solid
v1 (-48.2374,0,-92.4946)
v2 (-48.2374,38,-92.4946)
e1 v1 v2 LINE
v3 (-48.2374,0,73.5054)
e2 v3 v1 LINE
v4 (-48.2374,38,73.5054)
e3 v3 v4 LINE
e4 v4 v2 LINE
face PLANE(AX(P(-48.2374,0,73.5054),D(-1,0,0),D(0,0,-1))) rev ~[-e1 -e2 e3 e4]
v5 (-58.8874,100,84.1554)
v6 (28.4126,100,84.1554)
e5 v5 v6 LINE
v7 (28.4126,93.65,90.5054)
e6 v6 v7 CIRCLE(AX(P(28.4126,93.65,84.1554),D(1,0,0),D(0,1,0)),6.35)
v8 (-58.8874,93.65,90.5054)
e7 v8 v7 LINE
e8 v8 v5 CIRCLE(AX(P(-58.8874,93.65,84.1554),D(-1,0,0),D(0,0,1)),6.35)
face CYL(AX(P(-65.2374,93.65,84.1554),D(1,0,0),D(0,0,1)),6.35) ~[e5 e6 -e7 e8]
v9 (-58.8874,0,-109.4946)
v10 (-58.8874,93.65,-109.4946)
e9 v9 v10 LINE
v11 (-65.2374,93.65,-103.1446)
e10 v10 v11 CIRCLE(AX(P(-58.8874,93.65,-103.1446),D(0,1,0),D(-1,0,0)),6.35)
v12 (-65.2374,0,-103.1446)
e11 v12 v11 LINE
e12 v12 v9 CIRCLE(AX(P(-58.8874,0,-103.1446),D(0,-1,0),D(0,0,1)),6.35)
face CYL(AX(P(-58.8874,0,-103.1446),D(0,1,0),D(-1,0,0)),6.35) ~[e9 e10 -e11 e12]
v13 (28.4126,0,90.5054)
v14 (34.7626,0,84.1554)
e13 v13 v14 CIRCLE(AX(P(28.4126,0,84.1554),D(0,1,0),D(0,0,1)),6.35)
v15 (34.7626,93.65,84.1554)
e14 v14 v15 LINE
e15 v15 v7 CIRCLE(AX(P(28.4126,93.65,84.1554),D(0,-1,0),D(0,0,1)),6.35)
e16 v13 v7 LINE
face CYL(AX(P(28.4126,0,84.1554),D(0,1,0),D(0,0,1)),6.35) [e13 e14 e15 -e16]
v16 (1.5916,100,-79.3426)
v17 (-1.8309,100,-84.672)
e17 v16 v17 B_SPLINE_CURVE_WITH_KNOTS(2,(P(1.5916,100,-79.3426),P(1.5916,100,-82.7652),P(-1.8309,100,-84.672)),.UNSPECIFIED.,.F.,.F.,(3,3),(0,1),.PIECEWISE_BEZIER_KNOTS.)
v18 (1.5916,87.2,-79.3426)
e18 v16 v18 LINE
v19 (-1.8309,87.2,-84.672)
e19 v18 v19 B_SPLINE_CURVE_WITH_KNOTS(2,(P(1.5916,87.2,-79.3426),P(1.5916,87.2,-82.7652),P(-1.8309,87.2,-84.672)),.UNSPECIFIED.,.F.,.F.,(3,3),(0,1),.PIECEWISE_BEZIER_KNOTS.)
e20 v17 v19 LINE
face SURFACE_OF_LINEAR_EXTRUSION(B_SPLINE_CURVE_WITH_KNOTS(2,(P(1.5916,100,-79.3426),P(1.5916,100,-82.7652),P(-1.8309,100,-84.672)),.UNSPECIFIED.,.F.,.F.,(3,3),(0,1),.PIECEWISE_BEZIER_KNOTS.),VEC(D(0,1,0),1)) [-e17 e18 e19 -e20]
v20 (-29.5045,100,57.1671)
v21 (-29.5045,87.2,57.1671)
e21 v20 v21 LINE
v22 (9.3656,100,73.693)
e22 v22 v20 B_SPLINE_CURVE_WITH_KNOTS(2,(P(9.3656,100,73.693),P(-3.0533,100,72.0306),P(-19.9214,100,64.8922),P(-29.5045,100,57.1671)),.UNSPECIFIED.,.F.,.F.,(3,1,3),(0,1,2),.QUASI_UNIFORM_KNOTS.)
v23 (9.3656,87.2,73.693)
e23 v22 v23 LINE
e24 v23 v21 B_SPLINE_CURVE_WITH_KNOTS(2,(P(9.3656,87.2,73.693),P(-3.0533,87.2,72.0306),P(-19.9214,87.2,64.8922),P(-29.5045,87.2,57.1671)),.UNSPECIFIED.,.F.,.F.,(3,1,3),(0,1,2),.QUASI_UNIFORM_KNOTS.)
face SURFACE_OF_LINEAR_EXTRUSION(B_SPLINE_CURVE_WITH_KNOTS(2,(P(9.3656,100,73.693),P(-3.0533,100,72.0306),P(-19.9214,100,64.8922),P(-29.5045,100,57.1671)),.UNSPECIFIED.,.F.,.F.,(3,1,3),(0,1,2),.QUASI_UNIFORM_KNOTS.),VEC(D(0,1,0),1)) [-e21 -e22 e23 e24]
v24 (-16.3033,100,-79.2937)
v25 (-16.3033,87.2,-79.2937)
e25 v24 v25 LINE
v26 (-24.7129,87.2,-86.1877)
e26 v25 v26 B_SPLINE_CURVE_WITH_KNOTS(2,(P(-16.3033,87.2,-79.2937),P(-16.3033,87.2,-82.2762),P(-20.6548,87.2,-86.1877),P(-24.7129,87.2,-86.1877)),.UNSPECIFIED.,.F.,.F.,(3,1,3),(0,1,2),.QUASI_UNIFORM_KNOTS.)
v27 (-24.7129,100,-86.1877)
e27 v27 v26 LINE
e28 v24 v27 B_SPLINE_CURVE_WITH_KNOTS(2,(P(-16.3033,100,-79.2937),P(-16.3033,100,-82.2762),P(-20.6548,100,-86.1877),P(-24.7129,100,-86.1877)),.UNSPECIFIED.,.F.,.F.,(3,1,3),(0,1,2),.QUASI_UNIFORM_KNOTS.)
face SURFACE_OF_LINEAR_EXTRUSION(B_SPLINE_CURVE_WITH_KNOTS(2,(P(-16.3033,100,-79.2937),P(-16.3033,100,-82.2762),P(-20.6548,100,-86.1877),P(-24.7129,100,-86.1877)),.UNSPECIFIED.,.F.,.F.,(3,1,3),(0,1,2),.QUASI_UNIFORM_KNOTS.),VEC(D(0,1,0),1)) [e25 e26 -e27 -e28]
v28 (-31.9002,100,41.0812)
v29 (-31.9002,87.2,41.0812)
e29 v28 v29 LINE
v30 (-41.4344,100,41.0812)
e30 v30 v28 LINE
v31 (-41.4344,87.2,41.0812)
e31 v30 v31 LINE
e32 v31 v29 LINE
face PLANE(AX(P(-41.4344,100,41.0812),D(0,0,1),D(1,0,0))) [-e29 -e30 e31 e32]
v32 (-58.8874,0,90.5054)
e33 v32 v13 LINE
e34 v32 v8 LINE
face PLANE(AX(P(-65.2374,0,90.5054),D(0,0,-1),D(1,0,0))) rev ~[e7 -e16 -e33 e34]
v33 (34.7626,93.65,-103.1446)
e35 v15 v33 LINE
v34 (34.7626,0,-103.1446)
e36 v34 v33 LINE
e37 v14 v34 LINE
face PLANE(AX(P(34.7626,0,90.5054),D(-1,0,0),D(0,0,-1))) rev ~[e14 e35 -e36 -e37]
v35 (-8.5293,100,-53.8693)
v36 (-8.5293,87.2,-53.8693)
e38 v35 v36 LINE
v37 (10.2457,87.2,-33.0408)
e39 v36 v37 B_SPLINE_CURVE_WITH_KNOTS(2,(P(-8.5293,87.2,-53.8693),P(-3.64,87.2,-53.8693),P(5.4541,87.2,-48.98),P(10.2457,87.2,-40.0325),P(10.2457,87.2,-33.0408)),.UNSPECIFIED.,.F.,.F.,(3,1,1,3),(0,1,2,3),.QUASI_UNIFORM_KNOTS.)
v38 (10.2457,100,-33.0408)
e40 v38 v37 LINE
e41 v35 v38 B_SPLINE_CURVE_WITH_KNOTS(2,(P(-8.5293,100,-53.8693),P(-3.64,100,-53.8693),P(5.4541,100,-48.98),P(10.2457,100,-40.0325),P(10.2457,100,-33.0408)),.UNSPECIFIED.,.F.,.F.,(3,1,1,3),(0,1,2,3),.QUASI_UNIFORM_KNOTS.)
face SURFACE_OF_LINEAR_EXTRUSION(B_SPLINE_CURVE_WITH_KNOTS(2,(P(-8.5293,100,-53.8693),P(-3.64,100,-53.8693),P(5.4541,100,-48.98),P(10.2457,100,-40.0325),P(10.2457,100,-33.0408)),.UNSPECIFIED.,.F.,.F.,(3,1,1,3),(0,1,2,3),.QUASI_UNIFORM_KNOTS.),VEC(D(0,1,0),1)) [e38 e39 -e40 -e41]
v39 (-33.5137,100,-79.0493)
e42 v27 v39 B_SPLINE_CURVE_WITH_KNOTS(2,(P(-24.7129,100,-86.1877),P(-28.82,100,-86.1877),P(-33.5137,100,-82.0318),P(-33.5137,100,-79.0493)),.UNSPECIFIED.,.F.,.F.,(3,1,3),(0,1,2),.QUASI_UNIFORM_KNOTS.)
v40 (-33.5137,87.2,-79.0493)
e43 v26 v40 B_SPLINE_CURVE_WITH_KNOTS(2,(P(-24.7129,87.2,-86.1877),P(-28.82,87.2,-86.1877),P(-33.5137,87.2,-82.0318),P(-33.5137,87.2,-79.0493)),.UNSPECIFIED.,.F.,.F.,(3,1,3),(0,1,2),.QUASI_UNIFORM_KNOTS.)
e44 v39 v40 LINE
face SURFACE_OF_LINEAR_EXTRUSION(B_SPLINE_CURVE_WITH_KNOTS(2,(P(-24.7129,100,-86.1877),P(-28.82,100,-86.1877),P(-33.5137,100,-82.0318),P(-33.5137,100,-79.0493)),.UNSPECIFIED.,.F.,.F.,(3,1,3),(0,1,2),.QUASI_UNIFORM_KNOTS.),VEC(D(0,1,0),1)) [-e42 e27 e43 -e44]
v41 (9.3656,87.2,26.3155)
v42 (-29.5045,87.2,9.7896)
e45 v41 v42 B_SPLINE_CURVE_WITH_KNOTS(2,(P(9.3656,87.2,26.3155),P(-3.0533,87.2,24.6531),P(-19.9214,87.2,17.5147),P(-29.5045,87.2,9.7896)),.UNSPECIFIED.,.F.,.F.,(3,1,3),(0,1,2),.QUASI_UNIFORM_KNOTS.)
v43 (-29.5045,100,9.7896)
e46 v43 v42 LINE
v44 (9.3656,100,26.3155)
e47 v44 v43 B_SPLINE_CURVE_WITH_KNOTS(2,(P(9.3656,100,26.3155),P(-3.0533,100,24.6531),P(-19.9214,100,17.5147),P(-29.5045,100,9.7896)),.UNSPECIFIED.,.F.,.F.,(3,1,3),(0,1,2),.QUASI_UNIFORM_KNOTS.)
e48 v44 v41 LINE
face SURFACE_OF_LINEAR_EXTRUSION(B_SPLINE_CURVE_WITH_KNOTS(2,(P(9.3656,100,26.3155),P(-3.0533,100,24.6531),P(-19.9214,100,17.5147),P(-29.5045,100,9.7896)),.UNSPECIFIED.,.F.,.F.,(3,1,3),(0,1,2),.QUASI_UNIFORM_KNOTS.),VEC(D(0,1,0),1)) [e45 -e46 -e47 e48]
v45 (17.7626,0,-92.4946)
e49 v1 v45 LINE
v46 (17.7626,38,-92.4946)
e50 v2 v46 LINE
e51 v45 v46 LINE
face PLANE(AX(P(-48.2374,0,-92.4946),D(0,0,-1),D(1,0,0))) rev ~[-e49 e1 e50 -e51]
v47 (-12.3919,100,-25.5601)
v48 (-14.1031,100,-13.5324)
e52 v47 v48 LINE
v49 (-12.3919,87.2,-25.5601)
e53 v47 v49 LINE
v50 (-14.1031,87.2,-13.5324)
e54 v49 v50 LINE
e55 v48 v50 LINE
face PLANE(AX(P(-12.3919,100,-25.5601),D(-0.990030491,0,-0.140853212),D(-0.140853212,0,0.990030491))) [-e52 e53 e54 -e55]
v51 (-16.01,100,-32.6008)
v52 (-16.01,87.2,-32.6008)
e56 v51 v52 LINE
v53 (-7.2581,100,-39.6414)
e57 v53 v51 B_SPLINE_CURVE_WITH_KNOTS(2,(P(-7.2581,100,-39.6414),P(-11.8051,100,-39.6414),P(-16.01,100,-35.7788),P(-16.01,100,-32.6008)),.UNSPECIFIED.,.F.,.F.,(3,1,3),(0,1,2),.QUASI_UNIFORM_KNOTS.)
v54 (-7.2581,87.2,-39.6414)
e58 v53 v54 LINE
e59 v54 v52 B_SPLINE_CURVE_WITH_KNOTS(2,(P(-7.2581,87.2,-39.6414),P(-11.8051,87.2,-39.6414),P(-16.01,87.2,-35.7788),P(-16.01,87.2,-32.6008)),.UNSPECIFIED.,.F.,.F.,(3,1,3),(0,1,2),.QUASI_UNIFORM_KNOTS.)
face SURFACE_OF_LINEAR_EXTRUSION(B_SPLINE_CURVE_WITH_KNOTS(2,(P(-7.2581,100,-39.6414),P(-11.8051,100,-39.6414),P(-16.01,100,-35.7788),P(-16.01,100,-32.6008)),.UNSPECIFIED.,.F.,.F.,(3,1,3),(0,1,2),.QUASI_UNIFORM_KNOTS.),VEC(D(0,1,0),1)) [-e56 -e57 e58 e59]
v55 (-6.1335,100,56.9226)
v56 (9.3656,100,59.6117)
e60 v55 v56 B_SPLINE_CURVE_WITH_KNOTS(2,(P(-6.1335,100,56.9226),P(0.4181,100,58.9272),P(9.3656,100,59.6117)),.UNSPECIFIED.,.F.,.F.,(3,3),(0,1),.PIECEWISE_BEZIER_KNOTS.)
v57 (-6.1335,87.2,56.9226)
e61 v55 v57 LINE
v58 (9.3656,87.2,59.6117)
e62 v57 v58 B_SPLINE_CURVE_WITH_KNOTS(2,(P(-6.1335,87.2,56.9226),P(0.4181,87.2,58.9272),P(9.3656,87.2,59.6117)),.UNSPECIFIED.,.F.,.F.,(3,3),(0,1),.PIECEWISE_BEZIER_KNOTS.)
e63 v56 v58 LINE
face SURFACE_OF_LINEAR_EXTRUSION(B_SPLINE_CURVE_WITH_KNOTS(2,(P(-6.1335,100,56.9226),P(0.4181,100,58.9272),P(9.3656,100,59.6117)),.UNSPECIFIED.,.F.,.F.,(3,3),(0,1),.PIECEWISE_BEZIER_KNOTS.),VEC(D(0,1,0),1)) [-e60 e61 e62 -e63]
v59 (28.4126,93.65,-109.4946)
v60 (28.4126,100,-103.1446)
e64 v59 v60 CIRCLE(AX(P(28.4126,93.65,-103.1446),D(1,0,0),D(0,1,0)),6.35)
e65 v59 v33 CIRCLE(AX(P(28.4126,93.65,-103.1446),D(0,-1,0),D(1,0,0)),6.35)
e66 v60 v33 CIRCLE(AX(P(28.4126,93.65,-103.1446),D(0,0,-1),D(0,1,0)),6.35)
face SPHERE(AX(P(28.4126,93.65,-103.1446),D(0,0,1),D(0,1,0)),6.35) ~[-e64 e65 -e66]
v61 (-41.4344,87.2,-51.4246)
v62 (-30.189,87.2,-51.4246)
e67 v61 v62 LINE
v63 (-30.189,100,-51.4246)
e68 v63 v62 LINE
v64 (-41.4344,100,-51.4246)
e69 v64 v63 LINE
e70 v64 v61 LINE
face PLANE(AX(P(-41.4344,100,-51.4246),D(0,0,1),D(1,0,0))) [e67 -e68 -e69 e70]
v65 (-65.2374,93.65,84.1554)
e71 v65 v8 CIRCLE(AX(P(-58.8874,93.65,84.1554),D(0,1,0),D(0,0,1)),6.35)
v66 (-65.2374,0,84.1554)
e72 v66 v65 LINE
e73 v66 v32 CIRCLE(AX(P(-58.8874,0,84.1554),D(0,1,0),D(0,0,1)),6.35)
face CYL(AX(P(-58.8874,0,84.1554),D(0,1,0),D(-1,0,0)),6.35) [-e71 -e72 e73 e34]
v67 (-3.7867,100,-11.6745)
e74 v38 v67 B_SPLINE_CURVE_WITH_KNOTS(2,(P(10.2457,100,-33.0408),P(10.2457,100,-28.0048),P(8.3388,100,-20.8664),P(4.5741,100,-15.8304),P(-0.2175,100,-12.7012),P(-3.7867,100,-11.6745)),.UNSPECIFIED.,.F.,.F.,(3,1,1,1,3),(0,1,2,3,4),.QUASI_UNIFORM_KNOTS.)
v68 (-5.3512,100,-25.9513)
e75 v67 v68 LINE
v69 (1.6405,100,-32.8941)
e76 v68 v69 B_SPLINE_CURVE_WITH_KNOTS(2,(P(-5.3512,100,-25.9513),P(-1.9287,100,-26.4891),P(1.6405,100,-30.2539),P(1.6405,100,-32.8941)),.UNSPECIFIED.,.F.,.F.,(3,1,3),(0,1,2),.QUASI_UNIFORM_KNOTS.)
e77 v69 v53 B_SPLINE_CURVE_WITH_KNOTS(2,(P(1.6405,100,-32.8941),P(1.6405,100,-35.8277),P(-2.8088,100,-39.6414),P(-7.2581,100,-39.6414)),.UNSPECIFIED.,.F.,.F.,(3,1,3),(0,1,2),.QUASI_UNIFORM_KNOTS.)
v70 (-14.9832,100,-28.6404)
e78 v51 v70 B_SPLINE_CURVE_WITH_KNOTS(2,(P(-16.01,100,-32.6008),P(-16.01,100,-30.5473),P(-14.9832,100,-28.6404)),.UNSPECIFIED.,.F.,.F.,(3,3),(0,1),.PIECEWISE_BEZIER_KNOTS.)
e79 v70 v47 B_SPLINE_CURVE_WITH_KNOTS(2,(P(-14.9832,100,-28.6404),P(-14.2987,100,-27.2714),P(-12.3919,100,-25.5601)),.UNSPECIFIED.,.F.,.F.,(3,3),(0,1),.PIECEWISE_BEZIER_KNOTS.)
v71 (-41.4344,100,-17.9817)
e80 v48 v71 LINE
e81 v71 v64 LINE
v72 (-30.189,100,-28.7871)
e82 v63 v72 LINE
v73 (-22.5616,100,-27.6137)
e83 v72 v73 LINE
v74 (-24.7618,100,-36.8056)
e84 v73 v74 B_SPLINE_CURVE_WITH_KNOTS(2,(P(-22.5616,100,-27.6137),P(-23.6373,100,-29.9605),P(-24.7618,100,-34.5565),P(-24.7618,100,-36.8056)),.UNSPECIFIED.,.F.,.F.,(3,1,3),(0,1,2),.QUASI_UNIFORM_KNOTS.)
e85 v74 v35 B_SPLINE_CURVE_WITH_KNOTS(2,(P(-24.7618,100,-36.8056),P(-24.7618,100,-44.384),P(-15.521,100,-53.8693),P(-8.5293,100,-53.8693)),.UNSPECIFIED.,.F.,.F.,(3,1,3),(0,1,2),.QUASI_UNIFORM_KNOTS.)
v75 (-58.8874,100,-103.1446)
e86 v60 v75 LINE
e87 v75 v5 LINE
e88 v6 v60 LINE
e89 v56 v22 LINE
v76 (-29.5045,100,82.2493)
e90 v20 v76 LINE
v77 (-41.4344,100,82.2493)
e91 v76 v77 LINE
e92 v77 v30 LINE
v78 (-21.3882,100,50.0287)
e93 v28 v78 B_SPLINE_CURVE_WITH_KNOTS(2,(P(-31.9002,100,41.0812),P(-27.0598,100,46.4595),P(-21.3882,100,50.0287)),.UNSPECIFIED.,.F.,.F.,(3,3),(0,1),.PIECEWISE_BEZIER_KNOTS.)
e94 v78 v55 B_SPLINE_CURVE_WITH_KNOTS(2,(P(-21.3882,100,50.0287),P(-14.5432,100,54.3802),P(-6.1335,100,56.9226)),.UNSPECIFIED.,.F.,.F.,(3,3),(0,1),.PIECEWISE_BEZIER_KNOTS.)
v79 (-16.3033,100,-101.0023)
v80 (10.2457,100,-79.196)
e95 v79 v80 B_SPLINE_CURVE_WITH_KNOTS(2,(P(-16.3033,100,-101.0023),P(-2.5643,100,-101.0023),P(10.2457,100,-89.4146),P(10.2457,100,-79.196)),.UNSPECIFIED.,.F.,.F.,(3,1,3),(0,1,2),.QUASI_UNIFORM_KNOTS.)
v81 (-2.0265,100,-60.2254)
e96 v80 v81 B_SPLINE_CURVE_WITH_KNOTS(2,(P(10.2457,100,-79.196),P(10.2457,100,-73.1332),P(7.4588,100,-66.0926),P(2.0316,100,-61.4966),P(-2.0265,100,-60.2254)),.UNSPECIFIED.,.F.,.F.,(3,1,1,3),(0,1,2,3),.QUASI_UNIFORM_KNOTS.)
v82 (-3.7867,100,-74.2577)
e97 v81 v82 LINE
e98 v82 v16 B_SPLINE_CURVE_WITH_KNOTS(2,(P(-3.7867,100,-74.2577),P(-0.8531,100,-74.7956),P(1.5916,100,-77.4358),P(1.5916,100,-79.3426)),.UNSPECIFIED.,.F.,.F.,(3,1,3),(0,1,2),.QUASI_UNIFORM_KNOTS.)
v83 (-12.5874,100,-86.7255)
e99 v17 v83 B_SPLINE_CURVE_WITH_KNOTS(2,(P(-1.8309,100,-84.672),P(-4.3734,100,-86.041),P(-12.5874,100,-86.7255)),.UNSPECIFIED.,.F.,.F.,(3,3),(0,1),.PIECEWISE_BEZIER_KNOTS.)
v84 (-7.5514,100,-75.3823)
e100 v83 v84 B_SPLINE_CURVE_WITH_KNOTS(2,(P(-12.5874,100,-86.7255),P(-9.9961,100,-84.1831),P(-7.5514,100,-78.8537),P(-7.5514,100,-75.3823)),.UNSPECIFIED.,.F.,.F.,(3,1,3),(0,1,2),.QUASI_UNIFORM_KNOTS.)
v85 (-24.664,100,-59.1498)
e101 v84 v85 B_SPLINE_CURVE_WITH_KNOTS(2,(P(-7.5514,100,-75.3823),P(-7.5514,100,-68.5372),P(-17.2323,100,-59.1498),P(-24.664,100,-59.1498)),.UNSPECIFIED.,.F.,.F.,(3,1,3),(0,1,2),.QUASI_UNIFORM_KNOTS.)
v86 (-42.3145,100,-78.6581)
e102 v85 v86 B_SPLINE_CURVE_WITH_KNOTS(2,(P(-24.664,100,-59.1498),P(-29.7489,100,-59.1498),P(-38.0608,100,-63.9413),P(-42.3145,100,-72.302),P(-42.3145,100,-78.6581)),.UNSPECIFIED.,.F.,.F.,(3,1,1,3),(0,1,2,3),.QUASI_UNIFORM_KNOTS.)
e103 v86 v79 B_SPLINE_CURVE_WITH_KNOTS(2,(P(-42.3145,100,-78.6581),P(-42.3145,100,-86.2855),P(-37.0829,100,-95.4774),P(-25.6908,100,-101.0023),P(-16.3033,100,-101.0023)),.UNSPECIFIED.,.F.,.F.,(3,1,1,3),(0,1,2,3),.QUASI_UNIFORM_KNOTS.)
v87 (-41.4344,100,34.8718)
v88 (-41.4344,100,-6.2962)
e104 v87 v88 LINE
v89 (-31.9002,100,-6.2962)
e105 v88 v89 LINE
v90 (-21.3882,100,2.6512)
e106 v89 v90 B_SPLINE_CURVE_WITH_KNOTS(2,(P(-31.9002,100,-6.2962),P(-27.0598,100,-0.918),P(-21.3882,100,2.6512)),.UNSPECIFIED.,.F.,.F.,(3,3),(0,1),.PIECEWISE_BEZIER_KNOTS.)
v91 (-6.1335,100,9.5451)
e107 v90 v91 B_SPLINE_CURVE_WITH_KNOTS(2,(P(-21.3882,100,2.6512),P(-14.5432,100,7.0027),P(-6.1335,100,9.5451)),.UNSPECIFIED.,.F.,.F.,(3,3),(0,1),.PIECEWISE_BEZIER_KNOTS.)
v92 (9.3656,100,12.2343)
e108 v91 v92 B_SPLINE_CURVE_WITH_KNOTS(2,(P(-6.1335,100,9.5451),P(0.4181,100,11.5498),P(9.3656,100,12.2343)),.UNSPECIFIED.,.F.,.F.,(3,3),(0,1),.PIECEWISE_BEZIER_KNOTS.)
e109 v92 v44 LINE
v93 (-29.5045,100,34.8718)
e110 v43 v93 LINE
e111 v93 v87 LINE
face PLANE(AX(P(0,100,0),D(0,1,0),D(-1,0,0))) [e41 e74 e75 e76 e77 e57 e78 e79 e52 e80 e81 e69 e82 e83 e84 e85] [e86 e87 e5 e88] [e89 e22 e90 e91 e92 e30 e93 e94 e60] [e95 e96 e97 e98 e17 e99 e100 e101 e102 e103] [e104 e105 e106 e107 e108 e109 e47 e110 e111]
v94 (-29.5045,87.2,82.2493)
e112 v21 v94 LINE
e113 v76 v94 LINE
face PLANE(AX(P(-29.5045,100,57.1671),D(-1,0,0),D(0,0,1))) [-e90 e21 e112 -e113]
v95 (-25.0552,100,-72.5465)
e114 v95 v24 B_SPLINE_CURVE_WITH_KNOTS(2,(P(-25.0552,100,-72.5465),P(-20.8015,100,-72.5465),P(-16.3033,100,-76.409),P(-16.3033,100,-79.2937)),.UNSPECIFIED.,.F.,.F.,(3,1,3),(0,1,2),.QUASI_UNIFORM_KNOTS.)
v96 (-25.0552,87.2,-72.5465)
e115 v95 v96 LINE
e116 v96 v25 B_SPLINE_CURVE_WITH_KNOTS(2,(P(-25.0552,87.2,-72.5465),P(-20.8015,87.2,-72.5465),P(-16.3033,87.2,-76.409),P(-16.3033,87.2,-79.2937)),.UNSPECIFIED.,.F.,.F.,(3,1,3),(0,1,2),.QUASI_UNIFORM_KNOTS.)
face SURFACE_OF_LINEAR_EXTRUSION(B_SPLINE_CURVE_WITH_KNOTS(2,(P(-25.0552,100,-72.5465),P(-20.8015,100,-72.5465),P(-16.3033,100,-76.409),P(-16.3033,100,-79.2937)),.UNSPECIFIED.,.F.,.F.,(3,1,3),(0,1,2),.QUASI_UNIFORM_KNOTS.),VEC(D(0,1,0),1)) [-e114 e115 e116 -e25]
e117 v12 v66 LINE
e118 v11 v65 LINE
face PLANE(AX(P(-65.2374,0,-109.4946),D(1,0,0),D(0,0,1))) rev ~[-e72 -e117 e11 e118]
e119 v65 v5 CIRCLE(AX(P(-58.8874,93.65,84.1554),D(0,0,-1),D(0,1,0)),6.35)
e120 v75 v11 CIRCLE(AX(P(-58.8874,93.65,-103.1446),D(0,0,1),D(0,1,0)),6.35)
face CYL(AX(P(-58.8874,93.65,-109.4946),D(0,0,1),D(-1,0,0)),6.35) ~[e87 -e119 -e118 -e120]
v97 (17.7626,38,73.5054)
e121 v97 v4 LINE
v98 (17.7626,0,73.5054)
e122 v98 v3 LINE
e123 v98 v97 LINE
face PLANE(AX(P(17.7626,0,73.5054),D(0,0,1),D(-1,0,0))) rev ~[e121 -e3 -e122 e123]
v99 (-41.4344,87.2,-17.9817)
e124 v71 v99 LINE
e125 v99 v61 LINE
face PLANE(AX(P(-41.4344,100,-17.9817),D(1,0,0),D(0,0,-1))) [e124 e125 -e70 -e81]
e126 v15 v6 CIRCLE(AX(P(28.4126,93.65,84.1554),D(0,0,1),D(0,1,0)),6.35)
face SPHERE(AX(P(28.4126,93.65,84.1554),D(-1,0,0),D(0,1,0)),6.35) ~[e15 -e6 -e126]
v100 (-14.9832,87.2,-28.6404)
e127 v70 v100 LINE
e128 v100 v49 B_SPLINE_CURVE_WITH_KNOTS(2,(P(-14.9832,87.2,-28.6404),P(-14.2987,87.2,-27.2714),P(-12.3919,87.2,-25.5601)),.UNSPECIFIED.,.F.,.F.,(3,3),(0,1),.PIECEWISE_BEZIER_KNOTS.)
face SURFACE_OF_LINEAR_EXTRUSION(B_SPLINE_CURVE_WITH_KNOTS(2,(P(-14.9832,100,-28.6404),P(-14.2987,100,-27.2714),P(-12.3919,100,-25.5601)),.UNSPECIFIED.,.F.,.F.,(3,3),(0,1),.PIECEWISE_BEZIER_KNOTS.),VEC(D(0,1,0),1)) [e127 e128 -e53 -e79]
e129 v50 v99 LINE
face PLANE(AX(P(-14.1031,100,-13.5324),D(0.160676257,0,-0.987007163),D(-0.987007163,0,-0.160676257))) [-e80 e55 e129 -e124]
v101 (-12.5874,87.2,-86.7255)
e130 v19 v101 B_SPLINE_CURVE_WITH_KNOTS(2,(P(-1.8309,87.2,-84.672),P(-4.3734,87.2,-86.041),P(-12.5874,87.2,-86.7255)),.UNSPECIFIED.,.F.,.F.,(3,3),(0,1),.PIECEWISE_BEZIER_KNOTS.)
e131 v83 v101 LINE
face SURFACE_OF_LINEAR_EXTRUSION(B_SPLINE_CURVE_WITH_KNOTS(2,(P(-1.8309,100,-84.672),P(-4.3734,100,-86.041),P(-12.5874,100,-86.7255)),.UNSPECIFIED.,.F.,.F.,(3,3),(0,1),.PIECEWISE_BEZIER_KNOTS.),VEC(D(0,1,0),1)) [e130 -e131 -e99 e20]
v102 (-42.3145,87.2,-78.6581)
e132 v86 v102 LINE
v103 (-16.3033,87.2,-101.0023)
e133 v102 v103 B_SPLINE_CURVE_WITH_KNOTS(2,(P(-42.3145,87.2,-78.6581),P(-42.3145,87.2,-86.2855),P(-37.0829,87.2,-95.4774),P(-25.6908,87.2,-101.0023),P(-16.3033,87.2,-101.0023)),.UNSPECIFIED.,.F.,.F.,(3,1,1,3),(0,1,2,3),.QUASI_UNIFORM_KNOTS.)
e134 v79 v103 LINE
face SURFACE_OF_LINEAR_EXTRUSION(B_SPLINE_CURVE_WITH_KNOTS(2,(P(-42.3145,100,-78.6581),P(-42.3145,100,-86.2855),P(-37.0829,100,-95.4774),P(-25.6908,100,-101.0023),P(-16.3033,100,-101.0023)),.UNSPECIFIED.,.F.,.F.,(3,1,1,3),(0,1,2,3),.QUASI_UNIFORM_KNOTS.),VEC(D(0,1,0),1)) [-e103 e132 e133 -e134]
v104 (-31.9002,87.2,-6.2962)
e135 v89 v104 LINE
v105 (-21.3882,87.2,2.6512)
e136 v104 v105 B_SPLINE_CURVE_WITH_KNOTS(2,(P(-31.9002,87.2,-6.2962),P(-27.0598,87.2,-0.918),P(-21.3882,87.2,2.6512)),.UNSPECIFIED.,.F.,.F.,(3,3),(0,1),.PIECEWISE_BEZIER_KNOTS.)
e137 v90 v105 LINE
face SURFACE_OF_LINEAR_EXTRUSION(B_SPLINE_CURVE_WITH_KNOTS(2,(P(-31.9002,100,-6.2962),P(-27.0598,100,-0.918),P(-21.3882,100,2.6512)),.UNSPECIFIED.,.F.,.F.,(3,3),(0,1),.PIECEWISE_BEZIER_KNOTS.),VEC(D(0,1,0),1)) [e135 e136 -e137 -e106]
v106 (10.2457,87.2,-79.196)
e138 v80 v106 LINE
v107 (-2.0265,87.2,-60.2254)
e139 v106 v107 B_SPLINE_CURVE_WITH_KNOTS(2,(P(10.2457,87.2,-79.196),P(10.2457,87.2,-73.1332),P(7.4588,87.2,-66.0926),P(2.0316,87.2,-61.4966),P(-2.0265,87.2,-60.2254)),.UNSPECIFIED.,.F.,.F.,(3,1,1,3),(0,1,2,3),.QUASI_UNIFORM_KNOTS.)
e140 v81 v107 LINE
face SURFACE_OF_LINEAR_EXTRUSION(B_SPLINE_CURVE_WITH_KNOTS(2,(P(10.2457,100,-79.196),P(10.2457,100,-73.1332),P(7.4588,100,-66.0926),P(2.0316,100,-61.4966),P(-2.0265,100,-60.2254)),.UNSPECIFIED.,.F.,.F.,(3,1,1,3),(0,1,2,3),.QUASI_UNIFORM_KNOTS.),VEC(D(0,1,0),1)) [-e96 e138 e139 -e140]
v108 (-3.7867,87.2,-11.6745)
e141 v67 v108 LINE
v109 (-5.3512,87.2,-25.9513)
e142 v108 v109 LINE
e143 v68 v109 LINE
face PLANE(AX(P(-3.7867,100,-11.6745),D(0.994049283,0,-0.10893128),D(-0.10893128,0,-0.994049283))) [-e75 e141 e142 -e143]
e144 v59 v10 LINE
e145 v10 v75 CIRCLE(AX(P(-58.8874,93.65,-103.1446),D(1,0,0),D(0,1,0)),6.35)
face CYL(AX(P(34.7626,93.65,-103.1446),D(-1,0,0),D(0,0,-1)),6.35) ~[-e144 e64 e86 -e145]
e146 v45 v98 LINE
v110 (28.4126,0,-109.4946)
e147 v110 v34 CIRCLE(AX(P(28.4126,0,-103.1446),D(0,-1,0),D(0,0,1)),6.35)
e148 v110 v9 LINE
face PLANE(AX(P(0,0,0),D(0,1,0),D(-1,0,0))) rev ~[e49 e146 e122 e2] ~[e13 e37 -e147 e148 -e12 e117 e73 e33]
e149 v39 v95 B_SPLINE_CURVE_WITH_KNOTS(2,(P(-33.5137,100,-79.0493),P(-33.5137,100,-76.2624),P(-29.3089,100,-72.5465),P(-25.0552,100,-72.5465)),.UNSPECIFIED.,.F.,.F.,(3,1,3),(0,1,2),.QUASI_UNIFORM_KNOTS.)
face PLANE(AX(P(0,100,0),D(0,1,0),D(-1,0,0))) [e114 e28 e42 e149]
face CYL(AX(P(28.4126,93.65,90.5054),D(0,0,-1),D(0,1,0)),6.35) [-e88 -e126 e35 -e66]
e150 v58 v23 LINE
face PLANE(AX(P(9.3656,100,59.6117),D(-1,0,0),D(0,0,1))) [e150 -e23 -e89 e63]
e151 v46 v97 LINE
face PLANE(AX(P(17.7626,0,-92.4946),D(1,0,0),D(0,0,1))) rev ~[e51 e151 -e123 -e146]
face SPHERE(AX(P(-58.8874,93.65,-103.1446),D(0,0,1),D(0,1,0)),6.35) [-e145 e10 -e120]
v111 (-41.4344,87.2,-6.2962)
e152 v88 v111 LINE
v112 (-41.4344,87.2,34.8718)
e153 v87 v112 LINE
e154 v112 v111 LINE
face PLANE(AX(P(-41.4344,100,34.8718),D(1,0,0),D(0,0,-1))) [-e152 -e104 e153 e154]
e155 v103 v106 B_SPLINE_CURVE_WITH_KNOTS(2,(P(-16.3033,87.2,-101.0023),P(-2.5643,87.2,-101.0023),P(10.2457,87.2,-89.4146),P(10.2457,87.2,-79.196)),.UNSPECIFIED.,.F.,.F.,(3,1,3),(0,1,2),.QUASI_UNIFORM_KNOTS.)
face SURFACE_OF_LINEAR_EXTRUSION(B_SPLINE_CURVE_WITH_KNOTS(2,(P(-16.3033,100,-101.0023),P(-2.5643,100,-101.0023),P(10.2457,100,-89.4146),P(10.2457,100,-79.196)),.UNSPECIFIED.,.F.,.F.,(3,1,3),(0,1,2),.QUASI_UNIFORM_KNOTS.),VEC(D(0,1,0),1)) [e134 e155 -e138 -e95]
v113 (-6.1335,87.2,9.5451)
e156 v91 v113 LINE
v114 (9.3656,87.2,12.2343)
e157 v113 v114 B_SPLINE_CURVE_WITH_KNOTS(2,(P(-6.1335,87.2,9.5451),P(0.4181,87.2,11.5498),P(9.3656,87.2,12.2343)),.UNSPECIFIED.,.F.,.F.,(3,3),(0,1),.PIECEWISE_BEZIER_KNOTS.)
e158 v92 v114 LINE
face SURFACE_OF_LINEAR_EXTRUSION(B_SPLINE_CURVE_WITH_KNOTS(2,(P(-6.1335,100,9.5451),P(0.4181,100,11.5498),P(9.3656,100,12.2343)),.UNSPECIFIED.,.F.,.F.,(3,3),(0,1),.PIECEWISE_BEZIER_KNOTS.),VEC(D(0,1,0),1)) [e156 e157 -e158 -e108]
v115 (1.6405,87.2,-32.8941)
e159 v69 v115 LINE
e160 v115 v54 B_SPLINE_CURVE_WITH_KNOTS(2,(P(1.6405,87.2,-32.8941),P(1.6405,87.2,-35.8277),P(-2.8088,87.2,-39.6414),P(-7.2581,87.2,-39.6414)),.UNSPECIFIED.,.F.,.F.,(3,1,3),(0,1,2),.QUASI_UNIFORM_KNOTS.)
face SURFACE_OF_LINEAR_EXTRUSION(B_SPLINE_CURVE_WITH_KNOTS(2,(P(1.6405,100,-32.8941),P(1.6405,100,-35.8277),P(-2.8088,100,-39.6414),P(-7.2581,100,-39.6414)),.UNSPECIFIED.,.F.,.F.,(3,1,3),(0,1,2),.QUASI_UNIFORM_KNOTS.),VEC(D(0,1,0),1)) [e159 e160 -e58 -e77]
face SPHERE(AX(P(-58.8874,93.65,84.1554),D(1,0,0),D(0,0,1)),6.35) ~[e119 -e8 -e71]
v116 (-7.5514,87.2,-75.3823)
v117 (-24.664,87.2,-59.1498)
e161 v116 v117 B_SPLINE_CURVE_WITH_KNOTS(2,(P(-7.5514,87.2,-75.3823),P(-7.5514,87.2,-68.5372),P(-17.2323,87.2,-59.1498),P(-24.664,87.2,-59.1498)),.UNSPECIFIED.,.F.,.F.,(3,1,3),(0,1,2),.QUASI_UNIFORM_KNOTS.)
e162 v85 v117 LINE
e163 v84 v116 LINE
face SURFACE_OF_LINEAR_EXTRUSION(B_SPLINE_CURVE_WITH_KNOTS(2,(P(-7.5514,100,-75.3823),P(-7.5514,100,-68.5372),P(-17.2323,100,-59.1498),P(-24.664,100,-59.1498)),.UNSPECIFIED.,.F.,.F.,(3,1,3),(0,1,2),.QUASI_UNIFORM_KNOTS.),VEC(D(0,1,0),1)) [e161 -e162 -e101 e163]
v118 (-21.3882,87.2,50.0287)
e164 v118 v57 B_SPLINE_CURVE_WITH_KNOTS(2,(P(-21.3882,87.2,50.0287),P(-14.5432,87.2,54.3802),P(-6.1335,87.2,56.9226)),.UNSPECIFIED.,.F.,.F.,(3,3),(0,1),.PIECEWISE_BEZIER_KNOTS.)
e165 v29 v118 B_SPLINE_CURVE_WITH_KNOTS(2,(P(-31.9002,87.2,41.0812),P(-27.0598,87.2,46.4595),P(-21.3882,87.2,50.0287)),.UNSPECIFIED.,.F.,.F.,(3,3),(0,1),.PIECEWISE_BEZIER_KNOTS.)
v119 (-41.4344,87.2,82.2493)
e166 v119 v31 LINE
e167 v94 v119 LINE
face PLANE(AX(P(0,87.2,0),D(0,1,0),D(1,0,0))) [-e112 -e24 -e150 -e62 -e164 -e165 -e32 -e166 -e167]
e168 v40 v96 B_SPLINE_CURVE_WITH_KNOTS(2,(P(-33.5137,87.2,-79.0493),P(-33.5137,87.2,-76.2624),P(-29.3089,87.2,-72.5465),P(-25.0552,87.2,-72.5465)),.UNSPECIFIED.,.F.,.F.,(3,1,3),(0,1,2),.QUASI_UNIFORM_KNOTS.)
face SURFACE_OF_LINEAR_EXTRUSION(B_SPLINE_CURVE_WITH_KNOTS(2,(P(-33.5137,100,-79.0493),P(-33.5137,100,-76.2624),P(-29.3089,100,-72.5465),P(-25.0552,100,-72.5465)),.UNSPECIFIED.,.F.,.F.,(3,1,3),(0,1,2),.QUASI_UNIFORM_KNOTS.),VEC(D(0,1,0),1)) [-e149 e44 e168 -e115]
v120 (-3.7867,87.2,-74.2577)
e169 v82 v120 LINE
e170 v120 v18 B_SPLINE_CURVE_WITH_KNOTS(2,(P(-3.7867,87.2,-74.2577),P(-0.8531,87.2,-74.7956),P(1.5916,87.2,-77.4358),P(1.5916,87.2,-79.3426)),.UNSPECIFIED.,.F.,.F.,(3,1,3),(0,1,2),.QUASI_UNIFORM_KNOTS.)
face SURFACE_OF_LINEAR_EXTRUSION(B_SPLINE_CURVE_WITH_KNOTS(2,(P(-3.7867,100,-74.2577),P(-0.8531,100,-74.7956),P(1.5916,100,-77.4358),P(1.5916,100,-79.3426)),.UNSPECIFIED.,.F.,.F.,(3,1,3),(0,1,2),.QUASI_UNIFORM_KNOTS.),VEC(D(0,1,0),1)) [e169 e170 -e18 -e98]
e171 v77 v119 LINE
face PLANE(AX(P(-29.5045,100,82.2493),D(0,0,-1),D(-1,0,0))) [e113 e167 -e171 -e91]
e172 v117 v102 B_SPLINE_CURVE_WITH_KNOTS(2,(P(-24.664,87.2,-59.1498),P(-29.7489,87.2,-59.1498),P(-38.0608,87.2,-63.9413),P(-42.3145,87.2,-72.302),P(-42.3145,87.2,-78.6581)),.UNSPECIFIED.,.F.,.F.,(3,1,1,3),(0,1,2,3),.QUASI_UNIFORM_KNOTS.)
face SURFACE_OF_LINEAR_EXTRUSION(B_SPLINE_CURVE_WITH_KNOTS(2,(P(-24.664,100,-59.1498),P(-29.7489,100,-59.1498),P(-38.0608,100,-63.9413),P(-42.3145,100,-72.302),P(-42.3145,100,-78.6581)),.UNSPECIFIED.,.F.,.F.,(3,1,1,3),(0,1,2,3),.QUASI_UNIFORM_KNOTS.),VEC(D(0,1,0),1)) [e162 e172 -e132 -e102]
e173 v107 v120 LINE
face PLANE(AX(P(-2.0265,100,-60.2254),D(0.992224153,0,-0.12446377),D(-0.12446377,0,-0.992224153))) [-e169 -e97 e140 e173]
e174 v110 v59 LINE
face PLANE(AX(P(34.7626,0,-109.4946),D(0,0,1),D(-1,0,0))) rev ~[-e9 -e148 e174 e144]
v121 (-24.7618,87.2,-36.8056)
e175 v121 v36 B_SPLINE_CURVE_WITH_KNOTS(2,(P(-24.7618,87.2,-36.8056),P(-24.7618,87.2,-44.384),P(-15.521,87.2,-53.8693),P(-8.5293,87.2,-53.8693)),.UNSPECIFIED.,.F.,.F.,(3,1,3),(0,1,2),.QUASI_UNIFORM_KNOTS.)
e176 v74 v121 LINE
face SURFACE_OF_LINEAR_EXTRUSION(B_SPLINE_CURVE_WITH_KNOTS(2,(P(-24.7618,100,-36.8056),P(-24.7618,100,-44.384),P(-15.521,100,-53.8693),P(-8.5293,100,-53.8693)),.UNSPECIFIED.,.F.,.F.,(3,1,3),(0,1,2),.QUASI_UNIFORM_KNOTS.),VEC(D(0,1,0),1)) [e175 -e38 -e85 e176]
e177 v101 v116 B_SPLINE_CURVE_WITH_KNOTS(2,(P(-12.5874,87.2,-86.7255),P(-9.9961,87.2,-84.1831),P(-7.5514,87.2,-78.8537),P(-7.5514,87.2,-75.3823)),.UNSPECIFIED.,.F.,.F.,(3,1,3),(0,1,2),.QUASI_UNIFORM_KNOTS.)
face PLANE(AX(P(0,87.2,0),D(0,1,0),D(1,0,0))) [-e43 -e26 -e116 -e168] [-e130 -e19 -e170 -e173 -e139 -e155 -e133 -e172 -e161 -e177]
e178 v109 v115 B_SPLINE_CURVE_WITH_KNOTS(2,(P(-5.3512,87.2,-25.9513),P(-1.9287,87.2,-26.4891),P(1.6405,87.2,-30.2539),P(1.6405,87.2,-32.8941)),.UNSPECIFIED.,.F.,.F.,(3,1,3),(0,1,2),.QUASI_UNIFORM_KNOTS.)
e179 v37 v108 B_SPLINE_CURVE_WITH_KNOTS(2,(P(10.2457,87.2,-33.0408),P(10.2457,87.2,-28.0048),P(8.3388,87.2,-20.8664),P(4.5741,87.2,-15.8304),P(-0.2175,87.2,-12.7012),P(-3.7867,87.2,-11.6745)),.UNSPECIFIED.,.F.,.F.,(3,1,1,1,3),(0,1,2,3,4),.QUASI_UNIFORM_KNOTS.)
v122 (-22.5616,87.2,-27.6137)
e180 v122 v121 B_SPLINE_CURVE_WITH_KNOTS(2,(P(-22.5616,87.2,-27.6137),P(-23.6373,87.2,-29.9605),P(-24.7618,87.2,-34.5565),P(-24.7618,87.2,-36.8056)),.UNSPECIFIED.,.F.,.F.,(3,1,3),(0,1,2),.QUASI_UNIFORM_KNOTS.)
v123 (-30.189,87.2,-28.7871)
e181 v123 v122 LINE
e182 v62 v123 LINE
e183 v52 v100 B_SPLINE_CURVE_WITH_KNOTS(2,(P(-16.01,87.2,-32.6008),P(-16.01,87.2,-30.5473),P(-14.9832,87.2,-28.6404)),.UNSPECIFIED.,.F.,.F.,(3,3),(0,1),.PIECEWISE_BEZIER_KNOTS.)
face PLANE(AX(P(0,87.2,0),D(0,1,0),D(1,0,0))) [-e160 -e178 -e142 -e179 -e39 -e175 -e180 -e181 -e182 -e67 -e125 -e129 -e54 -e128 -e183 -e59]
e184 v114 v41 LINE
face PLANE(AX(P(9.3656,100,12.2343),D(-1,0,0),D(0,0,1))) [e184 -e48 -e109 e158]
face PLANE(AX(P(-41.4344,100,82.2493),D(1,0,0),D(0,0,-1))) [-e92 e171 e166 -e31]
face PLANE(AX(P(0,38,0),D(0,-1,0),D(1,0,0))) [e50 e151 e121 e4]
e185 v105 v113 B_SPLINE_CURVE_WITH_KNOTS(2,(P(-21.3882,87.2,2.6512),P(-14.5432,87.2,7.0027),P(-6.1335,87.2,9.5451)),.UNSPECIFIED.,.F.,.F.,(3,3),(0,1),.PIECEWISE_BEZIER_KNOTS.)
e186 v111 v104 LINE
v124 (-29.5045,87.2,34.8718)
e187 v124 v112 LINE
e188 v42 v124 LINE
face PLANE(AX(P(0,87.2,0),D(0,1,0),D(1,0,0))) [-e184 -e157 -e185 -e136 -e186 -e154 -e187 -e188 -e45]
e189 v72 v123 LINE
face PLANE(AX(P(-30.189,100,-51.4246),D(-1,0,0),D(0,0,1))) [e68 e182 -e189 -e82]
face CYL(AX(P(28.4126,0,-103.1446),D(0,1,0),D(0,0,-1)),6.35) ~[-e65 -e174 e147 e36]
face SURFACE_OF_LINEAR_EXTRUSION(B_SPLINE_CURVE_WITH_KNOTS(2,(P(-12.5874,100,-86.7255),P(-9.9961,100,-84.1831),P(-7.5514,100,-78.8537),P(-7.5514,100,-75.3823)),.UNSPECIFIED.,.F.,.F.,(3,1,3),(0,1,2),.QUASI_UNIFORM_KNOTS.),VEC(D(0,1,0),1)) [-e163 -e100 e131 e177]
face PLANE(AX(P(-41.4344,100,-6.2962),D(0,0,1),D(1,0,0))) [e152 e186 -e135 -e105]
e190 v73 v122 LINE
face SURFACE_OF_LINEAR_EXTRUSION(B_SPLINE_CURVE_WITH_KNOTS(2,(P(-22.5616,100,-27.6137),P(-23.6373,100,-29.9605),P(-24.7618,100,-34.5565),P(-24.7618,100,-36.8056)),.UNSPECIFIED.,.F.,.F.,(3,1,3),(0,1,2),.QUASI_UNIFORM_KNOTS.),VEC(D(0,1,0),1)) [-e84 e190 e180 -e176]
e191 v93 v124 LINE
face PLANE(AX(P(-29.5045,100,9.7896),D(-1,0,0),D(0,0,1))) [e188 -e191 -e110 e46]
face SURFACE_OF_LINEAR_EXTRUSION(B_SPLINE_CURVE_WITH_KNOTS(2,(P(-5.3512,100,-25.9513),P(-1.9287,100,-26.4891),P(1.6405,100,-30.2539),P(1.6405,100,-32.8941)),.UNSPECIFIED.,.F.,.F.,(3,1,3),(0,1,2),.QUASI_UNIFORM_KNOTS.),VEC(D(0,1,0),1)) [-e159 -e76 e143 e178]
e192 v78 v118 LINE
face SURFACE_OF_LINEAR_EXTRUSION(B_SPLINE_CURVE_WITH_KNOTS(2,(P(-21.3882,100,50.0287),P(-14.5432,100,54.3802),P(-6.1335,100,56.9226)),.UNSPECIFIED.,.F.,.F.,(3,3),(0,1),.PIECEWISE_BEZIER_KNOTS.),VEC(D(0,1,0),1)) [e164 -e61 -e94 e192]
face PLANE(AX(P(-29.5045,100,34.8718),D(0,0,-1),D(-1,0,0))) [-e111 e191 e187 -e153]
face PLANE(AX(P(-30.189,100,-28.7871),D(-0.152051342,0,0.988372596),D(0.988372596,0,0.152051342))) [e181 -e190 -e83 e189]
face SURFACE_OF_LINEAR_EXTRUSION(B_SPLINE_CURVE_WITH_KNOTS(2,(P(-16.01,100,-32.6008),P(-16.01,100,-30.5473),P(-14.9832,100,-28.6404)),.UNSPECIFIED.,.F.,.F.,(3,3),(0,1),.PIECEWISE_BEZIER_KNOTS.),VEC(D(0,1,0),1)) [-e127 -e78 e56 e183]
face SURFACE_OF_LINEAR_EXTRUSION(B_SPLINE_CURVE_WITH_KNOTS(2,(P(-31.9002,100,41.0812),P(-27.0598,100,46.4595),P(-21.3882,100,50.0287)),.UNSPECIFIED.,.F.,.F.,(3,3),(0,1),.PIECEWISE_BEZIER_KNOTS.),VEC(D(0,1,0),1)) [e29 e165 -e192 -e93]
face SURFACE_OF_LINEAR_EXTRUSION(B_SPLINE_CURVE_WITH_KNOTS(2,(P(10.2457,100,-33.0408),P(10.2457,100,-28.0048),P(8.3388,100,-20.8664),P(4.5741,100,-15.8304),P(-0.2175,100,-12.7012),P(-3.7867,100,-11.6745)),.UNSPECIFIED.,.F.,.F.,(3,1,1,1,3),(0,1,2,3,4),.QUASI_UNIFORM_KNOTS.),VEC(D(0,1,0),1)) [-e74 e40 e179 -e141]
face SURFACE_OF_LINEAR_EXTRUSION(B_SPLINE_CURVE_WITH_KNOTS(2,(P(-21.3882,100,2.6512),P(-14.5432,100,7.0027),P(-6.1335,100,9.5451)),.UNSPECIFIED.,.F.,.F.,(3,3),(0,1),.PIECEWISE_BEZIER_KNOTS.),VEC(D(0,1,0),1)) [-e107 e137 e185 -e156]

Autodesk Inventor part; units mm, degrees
ref_plane "YZ Plane" through (0, 0, 0) normal (1, 0, 0) x (0, 1, 0)
ref_plane "XZ Plane" through (0, 0, 0) normal (0, 1, 0) x (-1, 0, 0)
ref_plane "XY Plane" through (0, 0, 0) normal (0, 0, 1) x (1, 0, 0)
sketch "Sketch1" plane through (0, 0, 0) normal (0, 1, 0) x (-1, 0, 0)
  line L0 (65.2374, 90.5054) -> (-34.7626, 90.5054)
  line L1 (-34.7626, 90.5054) -> (-34.7626, -109.4946)
  line L2 (-34.7626, -109.4946) -> (65.2374, -109.4946)
  line L3 (65.2374, -109.4946) -> (65.2374, 90.5054)
  point P0 (0, 0)
  dimension "d0" = 200
  dimension "d1" = 100
extrude "Extrusion1" add sketch "Sketch1" along normal blind 100
sketch "Sketch2" plane through (0, 0, 0) normal (0, -1, 0) x (1, 0, 0)
  line L0 (17.7626, 73.5054) -> (-48.2374, 73.5054)
  line L1 (-48.2374, 73.5054) -> (-48.2374, -92.4946)
  line L2 (-48.2374, -92.4946) -> (17.7626, -92.4946)
  line L3 (17.7626, -92.4946) -> (17.7626, 73.5054)
  line L4 (34.7626, 90.5054) -> (34.7626, -109.4946) projected
  line L5 (-65.2374, 90.5054) -> (34.7626, 90.5054) projected
  line L6 (34.7626, -109.4946) -> (-65.2374, -109.4946) projected
  line L7 (-65.2374, -109.4946) -> (-65.2374, 90.5054) projected
  point P0 (0, 0)
  dimension "d4" = 17
  dimension "d5" = 17
  dimension "d6" = 17
  dimension "d7" = 17
extrude "Extrusion2" cut sketch "Sketch2" against normal blind 38 contours L3 L2 L1 L0
fillet "Fillet1" radius 6.35 8 edges at (-15.2374, 100, 90.5054) (34.7626, 100, -9.4946) (34.7626, 50, 90.5054) (-65.2374, 50, 90.5054) (-65.2374, 100, -9.4946) (-15.2374, 100, -109.4946) (34.7626, 50, -109.4946) (-65.2374, 50, -109.4946)
sketch "Sketch3" plane through (0, 100, 0) normal (0, 1, 0) x (1, 0, 0)
  line L0 (-42.3145, -85.4273) -> (-42.3145, -16.4468) construction
  line L1 (-42.3145, -16.4468) -> (96.9241, -16.4468) construction
  line L2 (96.9241, -16.4468) -> (96.9241, -85.4273) construction
  line L3 (96.9241, -85.4273) -> (-42.3145, -85.4273) construction
  line L4 (-41.4344, -82.2493) -> (-41.4344, -41.0812)
  line L5 (-41.4344, -41.0812) -> (-31.9002, -41.0812)
  spline S0 degree 2 poles (-31.9002, -41.0812) (-27.0598, -46.4595) (-21.3882, -50.0287) knots 0 0 0 1 1 1
  spline S1 degree 2 poles (-21.3882, -50.0287) (-14.5432, -54.3802) (-6.1335, -56.9226) knots 0 0 0 1 1 1
  spline S2 degree 2 poles (-6.1335, -56.9226) (0.4181, -58.9272) (9.3656, -59.6117) knots 0 0 0 1 1 1
  line L6 (9.3656, -59.6117) -> (9.3656, -73.693)
  spline S3 degree 2 poles (9.3656, -73.693) (-3.0533, -72.0306) (-19.9214, -64.8922) (-29.5045, -57.1671) knots 0 0 0 1 2 2 2
  line L7 (-29.5045, -57.1671) -> (-29.5045, -82.2493)
  line L8 (-29.5045, -82.2493) -> (-41.4344, -82.2493)
  line L9 (-41.4344, -34.8718) -> (-41.4344, 6.2962)
  line L10 (-41.4344, 6.2962) -> (-31.9002, 6.2962)
  spline S4 degree 2 poles (-31.9002, 6.2962) (-27.0598, 0.918) (-21.3882, -2.6512) knots 0 0 0 1 1 1
  spline S5 degree 2 poles (-21.3882, -2.6512) (-14.5432, -7.0027) (-6.1335, -9.5451) knots 0 0 0 1 1 1
  spline S6 degree 2 poles (-6.1335, -9.5451) (0.4181, -11.5498) (9.3656, -12.2343) knots 0 0 0 1 1 1
  line L11 (9.3656, -12.2343) -> (9.3656, -26.3155)
  spline S7 degree 2 poles (9.3656, -26.3155) (-3.0533, -24.6531) (-19.9214, -17.5147) (-29.5045, -9.7896) knots 0 0 0 1 2 2 2
  line L12 (-29.5045, -9.7896) -> (-29.5045, -34.8718)
  line L13 (-29.5045, -34.8718) -> (-41.4344, -34.8718)
  line L14 (-41.4344, 17.9817) -> (-41.4344, 51.4246)
  line L15 (-41.4344, 51.4246) -> (-30.189, 51.4246)
  line L16 (-30.189, 51.4246) -> (-30.189, 28.7871)
  line L17 (-30.189, 28.7871) -> (-22.5616, 27.6137)
  spline S8 degree 2 poles (-22.5616, 27.6137) (-23.6373, 29.9605) (-24.7618, 34.5565) (-24.7618, 36.8056) knots 0 0 0 1 2 2 2
  spline S9 degree 2 poles (-24.7618, 36.8056) (-24.7618, 44.384) (-15.521, 53.8693) (-8.5293, 53.8693) knots 0 0 0 1 2 2 2
  spline S10 degree 2 poles (-8.5293, 53.8693) (-3.64, 53.8693) (5.4541, 48.98) (10.2457, 40.0325) (10.2457, 33.0408) knots 0 0 0 1 2 3 3 3
  spline S11 degree 2 poles (10.2457, 33.0408) (10.2457, 28.0048) (8.3388, 20.8664) (4.5741, 15.8304) (-0.2175, 12.7012) (-3.7867, 11.6745) knots 0 0 0 1 2 3 4 4 4
  line L18 (-3.7867, 11.6745) -> (-5.3512, 25.9513)
  spline S12 degree 2 poles (-5.3512, 25.9513) (-1.9287, 26.4891) (1.6405, 30.2539) (1.6405, 32.8941) knots 0 0 0 1 2 2 2
  spline S13 degree 2 poles (1.6405, 32.8941) (1.6405, 35.8277) (-2.8088, 39.6414) (-7.2581, 39.6414) knots 0 0 0 1 2 2 2
  spline S14 degree 2 poles (-7.2581, 39.6414) (-11.8051, 39.6414) (-16.01, 35.7788) (-16.01, 32.6008) knots 0 0 0 1 2 2 2
  spline S15 degree 2 poles (-16.01, 32.6008) (-16.01, 30.5473) (-14.9832, 28.6404) knots 0 0 0 1 1 1
  spline S16 degree 2 poles (-14.9832, 28.6404) (-14.2987, 27.2714) (-12.3919, 25.5601) knots 0 0 0 1 1 1
  line L19 (-12.3919, 25.5601) -> (-14.1031, 13.5324)
  line L20 (-14.1031, 13.5324) -> (-41.4344, 17.9817)
  line L21 (-2.0265, 60.2254) -> (-3.7867, 74.2577)
  spline S17 degree 2 poles (-3.7867, 74.2577) (-0.8531, 74.7956) (1.5916, 77.4358) (1.5916, 79.3426) knots 0 0 0 1 2 2 2
  spline S18 degree 2 poles (1.5916, 79.3426) (1.5916, 82.7652) (-1.8309, 84.672) knots 0 0 0 1 1 1
  spline S19 degree 2 poles (-1.8309, 84.672) (-4.3734, 86.041) (-12.5874, 86.7255) knots 0 0 0 1 1 1
  spline S20 degree 2 poles (-12.5874, 86.7255) (-9.9961, 84.1831) (-7.5514, 78.8537) (-7.5514, 75.3823) knots 0 0 0 1 2 2 2
  spline S21 degree 2 poles (-7.5514, 75.3823) (-7.5514, 68.5372) (-17.2323, 59.1498) (-24.664, 59.1498) knots 0 0 0 1 2 2 2
  spline S22 degree 2 poles (-24.664, 59.1498) (-29.7489, 59.1498) (-38.0608, 63.9413) (-42.3145, 72.302) (-42.3145, 78.6581) knots 0 0 0 1 2 3 3 3
  spline S23 degree 2 poles (-42.3145, 78.6581) (-42.3145, 86.2855) (-37.0829, 95.4774) (-25.6908, 101.0023) (-16.3033, 101.0023) knots 0 0 0 1 2 3 3 3
  spline S24 degree 2 poles (-16.3033, 101.0023) (-2.5643, 101.0023) (10.2457, 89.4146) (10.2457, 79.196) knots 0 0 0 1 2 2 2
  spline S25 degree 2 poles (10.2457, 79.196) (10.2457, 73.1332) (7.4588, 66.0926) (2.0316, 61.4966) (-2.0265, 60.2254) knots 0 0 0 1 2 3 3 3
  spline S26 degree 2 poles (-24.7129, 86.1877) (-28.82, 86.1877) (-33.5137, 82.0318) (-33.5137, 79.0493) knots 0 0 0 1 2 2 2
  spline S27 degree 2 poles (-33.5137, 79.0493) (-33.5137, 76.2624) (-29.3089, 72.5465) (-25.0552, 72.5465) knots 0 0 0 1 2 2 2
  spline S28 degree 2 poles (-25.0552, 72.5465) (-20.8015, 72.5465) (-16.3033, 76.409) (-16.3033, 79.2937) knots 0 0 0 1 2 2 2
  spline S29 degree 2 poles (-16.3033, 79.2937) (-16.3033, 82.2762) (-20.6548, 86.1877) (-24.7129, 86.1877) knots 0 0 0 1 2 2 2
  point P0 (0, 0)
extrude "Extrusion3" cut sketch "Sketch3" against normal blind 12.8
properties part number "7759Block"
